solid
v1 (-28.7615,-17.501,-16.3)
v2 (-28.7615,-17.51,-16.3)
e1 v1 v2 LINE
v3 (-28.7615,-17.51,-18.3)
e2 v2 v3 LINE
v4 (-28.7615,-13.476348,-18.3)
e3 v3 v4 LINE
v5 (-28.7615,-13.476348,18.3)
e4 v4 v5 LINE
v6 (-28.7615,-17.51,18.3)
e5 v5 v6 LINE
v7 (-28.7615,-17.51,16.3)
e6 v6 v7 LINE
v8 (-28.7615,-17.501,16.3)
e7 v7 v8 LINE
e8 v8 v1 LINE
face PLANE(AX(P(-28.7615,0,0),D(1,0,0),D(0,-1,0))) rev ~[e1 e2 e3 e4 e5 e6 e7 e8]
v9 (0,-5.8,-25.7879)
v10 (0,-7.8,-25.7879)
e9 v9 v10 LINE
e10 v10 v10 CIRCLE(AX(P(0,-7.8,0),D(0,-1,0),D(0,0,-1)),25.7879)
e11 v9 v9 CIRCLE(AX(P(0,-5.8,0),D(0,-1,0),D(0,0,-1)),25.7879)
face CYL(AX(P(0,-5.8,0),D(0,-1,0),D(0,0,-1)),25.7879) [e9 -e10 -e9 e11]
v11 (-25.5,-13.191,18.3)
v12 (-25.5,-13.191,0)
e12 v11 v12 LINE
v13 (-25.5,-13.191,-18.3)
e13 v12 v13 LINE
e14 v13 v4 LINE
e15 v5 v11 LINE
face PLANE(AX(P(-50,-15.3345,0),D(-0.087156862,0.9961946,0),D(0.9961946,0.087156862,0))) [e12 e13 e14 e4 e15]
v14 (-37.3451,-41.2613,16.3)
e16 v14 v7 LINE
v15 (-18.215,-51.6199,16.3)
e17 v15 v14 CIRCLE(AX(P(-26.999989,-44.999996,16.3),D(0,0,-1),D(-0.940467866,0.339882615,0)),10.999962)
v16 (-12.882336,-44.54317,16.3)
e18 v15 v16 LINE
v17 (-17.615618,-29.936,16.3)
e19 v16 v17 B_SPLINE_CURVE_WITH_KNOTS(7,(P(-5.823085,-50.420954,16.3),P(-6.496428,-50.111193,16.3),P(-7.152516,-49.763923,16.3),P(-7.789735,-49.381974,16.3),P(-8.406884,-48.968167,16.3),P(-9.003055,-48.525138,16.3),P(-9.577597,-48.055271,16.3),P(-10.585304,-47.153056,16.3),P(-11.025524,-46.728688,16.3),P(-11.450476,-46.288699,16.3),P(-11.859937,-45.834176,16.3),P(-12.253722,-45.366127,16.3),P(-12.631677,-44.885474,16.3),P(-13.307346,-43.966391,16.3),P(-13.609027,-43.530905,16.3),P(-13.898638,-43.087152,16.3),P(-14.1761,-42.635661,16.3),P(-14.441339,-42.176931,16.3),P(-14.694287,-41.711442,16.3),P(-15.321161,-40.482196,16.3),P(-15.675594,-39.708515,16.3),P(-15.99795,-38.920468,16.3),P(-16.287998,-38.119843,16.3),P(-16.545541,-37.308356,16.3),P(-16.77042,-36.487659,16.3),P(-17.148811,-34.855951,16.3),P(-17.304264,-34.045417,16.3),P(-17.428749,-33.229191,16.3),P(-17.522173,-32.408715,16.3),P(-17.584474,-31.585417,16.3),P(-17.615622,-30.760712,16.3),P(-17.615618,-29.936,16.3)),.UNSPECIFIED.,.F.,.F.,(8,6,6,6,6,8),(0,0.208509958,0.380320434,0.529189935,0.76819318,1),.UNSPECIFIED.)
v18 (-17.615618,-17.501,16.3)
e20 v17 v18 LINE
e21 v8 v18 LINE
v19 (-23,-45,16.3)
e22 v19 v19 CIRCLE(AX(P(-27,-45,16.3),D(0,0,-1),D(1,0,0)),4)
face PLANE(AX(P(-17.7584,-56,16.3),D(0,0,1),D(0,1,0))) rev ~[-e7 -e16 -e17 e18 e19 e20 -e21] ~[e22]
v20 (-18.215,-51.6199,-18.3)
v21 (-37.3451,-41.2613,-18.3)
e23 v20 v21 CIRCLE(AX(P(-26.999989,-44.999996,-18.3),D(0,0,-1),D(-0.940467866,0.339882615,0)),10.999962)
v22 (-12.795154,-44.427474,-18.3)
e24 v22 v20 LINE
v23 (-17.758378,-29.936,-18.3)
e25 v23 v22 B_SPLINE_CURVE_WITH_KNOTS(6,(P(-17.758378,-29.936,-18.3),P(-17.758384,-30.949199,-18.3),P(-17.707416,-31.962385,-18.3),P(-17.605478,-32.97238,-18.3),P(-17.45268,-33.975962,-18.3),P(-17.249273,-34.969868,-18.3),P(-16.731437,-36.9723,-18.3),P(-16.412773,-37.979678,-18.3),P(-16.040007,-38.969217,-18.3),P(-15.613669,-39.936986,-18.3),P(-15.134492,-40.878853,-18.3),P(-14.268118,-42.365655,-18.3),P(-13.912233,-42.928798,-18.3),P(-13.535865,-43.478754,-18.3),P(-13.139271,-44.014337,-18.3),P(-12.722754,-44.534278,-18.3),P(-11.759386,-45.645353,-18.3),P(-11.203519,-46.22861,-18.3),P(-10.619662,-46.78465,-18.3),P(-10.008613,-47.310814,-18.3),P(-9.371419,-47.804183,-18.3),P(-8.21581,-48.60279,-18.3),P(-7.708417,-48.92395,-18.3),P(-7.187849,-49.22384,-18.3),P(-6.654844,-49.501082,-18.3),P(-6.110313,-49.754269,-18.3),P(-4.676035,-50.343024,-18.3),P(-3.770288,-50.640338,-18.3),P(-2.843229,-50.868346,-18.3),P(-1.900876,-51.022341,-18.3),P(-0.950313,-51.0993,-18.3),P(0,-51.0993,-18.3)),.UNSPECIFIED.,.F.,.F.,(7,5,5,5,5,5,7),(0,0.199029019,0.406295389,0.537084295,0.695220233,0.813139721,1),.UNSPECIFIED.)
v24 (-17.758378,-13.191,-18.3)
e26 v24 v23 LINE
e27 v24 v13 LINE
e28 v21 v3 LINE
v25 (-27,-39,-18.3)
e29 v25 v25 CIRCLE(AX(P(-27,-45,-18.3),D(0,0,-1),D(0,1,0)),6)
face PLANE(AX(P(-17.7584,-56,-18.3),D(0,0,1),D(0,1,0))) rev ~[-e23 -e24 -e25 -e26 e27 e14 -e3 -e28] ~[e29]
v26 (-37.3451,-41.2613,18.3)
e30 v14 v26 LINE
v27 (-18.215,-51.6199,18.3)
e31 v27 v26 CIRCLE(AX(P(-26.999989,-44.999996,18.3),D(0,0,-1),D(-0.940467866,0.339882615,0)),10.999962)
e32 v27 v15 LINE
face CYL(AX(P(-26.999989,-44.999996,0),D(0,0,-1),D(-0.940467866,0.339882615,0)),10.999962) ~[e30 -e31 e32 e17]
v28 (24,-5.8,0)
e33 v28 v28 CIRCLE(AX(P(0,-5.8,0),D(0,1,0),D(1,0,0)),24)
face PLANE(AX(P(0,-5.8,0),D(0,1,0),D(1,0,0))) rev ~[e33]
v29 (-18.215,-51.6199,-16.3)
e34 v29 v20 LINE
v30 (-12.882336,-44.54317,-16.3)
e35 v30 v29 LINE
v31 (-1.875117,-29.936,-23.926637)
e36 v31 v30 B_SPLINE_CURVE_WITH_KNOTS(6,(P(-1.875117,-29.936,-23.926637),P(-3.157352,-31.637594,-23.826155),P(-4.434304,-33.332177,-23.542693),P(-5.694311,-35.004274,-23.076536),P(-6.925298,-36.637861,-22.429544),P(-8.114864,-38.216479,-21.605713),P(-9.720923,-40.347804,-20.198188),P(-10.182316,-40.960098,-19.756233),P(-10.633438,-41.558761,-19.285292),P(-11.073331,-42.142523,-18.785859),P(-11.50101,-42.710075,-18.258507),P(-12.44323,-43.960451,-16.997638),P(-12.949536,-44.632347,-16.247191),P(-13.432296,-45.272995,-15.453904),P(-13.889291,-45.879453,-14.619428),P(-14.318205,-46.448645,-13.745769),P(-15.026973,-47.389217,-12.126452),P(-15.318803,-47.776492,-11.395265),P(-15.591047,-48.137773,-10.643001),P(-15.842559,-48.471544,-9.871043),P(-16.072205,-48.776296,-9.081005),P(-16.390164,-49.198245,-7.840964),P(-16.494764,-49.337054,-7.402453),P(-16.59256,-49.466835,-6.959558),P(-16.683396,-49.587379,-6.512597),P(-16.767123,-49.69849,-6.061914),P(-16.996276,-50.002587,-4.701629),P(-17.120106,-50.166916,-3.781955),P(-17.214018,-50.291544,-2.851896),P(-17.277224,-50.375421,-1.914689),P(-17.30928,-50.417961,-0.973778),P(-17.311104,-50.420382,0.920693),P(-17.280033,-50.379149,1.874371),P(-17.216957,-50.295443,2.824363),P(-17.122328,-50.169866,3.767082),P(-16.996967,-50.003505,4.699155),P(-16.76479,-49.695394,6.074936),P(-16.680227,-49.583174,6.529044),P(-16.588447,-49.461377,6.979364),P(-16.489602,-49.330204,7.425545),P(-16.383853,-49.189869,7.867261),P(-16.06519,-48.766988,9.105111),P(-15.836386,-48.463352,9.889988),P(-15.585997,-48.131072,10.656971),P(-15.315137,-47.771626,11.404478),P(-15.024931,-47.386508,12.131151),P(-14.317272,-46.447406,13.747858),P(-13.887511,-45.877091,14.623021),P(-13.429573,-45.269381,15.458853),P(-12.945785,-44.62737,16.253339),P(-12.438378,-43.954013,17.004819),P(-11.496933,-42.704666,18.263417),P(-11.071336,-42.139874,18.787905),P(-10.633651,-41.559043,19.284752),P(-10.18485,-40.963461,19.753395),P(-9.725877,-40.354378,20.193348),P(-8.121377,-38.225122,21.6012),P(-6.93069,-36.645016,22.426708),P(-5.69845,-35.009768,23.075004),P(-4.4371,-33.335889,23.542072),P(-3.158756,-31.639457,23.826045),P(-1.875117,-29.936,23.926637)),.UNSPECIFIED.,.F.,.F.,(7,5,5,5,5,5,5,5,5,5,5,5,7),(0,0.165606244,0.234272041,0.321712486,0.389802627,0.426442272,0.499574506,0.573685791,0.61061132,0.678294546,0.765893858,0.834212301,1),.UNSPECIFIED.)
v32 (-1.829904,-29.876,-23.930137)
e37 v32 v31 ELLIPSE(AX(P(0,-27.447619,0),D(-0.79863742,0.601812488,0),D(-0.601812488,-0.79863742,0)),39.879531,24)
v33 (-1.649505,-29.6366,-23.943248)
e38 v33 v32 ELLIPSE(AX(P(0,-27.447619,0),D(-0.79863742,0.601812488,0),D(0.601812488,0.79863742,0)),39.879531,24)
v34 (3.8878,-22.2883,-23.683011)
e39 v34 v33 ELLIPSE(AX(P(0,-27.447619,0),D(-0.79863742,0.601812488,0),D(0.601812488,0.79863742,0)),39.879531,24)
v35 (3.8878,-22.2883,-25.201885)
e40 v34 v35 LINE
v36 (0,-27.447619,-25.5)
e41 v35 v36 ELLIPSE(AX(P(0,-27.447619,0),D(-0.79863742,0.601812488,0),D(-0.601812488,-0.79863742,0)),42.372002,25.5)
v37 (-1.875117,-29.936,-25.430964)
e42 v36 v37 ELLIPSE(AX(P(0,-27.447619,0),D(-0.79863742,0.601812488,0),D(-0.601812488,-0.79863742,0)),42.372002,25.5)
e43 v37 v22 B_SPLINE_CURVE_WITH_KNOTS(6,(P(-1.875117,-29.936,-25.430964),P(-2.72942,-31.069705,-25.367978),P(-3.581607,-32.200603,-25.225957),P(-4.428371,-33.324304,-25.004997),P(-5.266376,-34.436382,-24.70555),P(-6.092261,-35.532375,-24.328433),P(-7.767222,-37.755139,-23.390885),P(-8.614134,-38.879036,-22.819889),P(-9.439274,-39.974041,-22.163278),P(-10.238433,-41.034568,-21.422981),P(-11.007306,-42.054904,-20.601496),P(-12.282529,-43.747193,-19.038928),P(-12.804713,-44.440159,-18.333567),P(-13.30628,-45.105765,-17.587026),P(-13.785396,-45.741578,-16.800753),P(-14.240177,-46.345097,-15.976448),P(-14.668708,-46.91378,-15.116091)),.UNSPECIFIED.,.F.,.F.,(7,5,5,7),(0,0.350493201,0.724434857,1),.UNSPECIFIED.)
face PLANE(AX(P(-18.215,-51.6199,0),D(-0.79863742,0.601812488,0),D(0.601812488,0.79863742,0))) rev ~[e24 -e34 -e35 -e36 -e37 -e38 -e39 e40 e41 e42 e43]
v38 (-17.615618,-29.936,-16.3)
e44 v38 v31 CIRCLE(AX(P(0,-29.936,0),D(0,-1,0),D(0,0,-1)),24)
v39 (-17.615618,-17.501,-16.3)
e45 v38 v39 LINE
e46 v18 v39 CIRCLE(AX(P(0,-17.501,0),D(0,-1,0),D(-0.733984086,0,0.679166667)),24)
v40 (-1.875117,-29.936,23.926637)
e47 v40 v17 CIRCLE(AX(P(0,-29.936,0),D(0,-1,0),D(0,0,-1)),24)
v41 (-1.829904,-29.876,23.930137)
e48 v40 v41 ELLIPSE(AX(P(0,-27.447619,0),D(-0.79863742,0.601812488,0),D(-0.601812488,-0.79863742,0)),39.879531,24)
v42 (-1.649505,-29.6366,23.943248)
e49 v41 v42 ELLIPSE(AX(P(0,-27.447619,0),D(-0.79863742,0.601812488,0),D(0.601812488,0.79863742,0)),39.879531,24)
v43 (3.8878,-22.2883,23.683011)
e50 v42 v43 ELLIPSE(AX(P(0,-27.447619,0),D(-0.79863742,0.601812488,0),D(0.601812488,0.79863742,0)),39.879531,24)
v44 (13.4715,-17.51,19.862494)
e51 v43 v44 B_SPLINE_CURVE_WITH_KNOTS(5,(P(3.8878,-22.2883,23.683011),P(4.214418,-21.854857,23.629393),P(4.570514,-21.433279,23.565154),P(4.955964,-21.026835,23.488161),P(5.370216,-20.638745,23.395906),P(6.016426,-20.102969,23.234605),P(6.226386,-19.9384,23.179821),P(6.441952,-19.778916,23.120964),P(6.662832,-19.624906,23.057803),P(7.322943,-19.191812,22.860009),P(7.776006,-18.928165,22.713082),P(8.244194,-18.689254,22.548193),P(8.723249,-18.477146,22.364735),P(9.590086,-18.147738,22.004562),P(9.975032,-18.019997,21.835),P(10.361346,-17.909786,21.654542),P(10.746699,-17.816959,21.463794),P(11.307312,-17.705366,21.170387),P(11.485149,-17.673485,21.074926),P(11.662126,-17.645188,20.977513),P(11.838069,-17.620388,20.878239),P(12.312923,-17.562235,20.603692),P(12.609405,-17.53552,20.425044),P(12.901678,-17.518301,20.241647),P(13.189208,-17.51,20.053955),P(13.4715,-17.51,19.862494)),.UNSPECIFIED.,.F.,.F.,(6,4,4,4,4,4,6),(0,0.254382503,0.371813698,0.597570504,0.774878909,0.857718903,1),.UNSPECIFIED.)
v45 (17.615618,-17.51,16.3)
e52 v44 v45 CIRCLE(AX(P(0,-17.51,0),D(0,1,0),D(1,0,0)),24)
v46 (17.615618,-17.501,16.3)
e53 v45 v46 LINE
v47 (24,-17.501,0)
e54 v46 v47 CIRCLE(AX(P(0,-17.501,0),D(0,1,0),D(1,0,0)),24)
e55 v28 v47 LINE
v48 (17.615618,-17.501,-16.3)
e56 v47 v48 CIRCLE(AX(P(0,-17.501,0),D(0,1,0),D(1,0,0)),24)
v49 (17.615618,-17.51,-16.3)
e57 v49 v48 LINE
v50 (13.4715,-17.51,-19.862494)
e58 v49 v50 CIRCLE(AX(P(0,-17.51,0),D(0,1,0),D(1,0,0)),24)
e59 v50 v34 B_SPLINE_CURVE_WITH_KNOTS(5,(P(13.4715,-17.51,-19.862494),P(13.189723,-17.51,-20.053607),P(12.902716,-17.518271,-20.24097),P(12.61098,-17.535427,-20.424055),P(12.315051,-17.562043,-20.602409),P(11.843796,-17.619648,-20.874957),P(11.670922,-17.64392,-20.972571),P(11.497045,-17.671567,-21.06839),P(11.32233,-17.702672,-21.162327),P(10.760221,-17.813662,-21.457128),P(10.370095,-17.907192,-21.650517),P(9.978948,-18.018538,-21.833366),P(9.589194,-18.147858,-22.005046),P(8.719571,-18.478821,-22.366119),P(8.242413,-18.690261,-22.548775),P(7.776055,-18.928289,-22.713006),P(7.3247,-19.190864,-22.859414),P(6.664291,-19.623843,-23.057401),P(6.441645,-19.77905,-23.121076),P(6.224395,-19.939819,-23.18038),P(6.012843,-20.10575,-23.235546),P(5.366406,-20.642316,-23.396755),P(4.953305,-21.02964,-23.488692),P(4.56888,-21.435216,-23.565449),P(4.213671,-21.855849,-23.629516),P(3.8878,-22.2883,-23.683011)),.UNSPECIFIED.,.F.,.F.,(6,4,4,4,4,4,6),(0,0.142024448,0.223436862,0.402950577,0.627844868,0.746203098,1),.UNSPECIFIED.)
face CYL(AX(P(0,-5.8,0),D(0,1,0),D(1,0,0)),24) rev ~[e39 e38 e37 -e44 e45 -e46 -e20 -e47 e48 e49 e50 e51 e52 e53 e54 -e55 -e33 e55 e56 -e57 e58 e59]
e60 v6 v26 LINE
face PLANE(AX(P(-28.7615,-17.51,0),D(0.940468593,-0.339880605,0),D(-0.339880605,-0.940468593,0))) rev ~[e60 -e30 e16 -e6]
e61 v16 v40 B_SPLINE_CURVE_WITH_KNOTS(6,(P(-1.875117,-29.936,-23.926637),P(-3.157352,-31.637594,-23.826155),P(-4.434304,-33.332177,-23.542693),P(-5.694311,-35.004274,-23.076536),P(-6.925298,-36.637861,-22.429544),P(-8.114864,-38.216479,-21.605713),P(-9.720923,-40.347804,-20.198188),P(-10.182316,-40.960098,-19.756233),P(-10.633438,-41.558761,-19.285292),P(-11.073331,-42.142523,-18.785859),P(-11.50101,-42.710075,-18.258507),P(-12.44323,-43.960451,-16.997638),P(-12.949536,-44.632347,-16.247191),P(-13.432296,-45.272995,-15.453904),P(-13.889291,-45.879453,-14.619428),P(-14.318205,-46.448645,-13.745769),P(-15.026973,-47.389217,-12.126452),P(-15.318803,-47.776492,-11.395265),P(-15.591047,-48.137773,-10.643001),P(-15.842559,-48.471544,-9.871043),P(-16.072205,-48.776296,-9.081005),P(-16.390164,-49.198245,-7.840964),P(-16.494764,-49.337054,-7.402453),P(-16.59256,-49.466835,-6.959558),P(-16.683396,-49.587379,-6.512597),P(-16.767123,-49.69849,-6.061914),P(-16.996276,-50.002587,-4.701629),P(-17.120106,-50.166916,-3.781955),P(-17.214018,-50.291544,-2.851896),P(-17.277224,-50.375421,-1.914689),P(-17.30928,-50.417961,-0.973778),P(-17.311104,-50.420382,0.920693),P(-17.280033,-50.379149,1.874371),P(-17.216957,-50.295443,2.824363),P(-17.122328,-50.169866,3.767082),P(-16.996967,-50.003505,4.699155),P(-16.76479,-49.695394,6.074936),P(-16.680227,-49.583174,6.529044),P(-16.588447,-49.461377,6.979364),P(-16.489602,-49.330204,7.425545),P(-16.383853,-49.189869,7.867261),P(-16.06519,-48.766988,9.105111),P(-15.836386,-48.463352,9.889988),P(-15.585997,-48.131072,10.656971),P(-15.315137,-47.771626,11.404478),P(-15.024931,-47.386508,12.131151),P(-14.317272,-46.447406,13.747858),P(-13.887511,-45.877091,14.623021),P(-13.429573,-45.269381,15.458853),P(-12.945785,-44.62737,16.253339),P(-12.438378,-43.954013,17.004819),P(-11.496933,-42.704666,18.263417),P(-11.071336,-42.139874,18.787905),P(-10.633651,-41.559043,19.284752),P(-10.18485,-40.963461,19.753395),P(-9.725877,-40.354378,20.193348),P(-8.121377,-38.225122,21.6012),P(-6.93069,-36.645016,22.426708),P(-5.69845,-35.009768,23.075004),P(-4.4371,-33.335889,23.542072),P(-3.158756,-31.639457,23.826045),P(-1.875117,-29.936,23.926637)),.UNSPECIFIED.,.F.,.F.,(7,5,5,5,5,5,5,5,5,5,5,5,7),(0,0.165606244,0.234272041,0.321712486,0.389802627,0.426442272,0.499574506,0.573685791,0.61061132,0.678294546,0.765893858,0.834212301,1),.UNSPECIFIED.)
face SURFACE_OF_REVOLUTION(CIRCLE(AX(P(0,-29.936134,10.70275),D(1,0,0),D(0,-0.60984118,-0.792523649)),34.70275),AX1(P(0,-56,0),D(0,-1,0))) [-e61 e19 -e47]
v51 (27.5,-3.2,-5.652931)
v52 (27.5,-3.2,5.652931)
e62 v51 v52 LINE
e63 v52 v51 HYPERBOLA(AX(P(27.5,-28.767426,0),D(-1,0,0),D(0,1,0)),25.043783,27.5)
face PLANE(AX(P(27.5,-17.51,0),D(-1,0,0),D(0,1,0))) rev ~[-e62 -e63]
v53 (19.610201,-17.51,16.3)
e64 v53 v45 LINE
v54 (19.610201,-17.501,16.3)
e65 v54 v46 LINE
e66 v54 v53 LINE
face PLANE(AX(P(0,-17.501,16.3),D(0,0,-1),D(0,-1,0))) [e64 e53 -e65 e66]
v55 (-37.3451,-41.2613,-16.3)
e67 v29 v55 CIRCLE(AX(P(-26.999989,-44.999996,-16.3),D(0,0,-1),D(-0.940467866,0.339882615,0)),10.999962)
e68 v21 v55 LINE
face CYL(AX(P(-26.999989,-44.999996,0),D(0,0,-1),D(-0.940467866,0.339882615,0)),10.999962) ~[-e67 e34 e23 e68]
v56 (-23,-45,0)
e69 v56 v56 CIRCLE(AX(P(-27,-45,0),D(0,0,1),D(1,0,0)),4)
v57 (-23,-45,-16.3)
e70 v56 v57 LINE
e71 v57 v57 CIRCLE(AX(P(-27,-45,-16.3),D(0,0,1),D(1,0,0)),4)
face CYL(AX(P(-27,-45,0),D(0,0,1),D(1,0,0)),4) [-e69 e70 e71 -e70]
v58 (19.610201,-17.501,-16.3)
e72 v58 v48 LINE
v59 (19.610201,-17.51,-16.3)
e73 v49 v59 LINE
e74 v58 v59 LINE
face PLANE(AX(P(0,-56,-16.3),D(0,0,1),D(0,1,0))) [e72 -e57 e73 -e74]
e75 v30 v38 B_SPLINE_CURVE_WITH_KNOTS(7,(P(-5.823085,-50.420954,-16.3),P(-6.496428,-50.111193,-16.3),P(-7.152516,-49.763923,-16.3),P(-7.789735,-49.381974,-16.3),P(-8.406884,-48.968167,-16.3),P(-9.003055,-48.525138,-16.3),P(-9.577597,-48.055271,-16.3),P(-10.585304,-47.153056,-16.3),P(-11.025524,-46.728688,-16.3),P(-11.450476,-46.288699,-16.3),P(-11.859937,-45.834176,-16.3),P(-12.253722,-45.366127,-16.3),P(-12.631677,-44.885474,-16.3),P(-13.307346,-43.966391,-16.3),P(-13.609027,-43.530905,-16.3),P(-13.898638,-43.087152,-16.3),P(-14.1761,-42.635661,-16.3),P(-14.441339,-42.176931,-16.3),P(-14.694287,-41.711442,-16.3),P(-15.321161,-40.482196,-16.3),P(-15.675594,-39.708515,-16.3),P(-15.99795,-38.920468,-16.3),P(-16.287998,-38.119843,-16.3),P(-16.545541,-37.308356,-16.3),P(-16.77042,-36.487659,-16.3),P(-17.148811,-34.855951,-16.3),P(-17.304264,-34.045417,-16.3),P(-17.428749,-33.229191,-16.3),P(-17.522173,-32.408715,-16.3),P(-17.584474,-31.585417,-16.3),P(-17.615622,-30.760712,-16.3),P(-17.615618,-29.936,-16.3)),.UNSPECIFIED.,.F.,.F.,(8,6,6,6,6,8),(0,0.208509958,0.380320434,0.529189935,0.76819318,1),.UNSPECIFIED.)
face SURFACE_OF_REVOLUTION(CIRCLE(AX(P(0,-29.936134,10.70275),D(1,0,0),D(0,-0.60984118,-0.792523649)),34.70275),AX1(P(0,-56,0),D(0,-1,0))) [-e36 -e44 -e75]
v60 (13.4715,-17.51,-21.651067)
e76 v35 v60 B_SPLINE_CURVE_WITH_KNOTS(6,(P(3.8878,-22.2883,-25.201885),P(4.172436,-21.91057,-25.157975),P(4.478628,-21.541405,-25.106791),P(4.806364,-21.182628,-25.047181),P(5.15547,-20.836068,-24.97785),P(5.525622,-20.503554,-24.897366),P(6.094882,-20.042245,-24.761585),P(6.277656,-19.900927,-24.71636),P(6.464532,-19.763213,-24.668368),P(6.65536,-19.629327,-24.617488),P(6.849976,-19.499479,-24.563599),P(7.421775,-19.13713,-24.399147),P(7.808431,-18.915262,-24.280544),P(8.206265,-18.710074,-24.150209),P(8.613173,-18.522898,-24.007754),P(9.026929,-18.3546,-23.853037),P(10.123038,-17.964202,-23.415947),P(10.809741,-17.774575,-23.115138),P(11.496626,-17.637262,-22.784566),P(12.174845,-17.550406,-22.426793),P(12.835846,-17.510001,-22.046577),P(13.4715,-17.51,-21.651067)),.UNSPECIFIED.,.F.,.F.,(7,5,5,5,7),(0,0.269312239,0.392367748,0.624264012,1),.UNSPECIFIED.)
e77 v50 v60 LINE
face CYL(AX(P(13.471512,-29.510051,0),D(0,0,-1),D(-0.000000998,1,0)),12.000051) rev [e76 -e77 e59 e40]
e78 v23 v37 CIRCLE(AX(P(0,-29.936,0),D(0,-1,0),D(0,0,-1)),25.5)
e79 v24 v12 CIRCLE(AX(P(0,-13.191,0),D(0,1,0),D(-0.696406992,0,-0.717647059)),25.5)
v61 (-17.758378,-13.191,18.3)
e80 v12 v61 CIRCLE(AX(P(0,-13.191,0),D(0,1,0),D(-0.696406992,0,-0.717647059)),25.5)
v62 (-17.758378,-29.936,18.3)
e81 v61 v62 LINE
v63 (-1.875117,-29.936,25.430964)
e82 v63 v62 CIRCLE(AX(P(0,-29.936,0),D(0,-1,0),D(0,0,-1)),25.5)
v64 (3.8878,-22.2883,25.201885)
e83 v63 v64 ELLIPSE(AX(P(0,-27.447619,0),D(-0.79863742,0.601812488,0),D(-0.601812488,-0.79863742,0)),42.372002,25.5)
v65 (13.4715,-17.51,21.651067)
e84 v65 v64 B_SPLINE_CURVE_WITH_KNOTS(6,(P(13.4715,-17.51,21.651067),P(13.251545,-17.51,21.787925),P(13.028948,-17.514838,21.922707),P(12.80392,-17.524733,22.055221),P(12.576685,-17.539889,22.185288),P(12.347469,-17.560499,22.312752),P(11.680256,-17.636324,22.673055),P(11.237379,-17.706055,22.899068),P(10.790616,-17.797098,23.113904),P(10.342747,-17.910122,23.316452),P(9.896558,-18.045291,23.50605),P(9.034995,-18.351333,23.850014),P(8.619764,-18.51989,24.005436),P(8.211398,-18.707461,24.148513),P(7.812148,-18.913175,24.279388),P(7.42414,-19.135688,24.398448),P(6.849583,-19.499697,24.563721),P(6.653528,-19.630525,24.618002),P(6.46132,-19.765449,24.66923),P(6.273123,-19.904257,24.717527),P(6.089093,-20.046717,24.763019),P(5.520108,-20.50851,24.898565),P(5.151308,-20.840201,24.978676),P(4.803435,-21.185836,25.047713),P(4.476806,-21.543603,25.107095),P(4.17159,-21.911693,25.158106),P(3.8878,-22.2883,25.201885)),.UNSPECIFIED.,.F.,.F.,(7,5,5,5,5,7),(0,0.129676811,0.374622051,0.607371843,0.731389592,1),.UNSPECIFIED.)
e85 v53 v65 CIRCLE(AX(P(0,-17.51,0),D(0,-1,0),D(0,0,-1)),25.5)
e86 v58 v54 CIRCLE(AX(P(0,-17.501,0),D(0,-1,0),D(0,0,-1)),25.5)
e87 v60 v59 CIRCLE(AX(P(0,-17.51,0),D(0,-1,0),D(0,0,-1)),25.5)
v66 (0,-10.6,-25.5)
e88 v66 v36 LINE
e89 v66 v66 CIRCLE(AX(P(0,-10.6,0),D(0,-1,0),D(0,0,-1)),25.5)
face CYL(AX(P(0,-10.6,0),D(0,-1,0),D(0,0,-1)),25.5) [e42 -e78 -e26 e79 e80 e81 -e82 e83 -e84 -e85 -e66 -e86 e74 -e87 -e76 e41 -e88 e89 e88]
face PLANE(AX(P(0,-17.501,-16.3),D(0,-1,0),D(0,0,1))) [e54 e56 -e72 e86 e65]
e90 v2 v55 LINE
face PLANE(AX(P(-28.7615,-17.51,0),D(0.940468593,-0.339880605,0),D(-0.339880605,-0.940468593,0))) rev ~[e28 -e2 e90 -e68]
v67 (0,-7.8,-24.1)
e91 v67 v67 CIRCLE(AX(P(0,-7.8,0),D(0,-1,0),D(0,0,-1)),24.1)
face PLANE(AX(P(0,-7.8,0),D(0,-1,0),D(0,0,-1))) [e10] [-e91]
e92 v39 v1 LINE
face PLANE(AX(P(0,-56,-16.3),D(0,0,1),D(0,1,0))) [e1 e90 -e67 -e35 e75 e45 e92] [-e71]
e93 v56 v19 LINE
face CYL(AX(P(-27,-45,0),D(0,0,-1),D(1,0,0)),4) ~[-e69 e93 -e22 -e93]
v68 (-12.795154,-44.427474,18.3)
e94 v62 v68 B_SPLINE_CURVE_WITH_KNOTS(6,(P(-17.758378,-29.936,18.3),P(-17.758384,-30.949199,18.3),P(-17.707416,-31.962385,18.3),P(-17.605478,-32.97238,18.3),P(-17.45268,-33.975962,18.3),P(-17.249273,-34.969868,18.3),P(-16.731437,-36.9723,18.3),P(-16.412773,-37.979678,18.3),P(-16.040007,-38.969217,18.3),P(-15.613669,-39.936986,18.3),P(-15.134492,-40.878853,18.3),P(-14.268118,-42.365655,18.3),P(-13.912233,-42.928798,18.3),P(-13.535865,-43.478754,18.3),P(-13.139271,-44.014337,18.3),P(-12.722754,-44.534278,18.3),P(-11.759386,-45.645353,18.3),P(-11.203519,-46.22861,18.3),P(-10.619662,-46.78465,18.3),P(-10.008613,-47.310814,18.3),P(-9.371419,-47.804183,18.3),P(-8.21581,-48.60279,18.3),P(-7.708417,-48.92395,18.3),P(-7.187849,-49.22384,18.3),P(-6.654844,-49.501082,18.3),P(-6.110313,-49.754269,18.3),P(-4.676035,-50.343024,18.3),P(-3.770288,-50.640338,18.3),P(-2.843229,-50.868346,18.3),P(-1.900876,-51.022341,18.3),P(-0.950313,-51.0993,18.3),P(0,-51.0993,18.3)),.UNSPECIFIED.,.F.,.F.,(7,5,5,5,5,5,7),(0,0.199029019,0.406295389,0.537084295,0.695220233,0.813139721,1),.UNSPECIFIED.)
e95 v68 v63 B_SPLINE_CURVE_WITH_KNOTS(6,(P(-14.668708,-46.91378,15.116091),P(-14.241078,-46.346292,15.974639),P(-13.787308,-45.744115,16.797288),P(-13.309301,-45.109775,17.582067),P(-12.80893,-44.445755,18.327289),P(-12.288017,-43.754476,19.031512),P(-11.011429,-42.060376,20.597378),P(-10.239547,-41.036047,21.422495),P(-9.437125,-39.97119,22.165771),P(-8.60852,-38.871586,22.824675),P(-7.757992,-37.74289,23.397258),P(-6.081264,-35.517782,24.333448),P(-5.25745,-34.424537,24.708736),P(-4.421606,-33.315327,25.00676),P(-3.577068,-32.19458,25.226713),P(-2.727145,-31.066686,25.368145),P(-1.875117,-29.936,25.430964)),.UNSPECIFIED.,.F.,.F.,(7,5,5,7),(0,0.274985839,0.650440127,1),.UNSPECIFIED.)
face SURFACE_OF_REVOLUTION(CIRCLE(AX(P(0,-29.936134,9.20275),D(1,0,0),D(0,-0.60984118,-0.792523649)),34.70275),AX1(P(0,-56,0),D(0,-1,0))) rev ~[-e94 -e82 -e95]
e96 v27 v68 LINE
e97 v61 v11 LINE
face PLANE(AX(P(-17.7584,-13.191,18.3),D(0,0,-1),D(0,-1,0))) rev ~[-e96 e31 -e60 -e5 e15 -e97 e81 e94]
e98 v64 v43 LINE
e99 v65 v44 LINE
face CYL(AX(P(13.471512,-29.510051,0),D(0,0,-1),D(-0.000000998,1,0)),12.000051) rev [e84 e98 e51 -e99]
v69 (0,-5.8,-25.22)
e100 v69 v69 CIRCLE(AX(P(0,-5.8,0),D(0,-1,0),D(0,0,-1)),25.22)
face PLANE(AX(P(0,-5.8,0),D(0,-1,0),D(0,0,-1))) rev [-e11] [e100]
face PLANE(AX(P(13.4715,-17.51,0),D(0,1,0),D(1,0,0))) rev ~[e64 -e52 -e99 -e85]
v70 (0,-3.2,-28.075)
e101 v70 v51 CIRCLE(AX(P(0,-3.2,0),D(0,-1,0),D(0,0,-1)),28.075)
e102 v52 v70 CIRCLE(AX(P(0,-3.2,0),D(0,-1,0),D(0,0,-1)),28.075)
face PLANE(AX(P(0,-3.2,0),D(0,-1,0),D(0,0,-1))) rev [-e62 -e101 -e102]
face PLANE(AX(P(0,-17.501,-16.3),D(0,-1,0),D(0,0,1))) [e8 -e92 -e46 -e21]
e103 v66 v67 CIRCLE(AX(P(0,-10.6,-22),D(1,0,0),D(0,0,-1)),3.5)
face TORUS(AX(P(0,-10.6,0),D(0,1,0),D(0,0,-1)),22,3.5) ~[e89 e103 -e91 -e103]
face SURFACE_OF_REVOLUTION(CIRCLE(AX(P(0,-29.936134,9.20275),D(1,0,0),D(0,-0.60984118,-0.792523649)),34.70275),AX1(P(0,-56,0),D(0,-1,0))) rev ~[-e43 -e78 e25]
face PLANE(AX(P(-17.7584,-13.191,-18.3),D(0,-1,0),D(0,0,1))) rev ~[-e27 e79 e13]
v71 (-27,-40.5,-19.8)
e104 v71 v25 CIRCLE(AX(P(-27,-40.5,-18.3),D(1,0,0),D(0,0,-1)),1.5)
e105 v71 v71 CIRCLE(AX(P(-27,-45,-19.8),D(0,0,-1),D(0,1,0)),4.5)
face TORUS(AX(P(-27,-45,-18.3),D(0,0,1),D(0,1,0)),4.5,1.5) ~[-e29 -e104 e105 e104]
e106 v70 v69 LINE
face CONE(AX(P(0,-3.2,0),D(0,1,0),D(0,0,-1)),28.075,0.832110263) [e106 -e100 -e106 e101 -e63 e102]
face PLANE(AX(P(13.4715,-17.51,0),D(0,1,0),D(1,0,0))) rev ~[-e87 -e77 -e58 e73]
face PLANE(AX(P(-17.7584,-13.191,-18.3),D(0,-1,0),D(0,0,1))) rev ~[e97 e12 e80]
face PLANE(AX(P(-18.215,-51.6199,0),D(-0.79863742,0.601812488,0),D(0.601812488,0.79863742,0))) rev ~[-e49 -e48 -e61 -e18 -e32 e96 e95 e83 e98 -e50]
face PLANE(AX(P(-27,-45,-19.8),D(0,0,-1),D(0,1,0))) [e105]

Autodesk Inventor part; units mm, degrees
sketch "Sketch_1" plane through (0, 0, 0) normal (1, 0, 0) x (0, 1, 0)
  line L0 (-56, 0) -> (0, 0)
  line L1 (-3.2, 0) -> (-3.2, -28.075)
  line L2 (-3.2, -28.075) -> (-5.8, -25.22)
  line L3 (-5.8, -25.22) -> (-5.8, -25.7879)
  line L4 (-5.8, -25.7879) -> (-7.8, -25.7879)
  line L5 (-7.8, -25.7879) -> (-7.8, -24.1)
  arc A0 (-10.6, -25.5) -> (-7.8, -24.1) centre (-10.6, -22) ccw
  line L6 (-10.6, -25.5) -> (-29.936, -25.5)
  arc A1 (-51.0993, -18.3) -> (-29.936, -25.5) centre (-29.936, 9.203) ccw
  line L7 (-51.0993, -18.3) -> (-56, -18.3)
  line L8 (-56, -18.3) -> (-56, 0)
  line L9 (-56, 0) -> (-3.2, 0)
revolve "Revolution1" add sketch "Sketch_1" angle 360 about axis through (0, -56, 0) along (0, -1, 0)
sketch "Sketch_2" plane through (0, 0, 0) normal (0, 0, 1) x (1, 0, 0)
  line L0 (-50, -13.191) -> (-21.7584, -56)
  line L1 (-21.7584, -56) -> (-17.7584, -56)
  line L2 (-17.7584, -56) -> (-17.7584, -13.191)
  line L3 (-17.7584, -13.191) -> (-50, -13.191)
extrude "Extrusion1" cut sketch "Sketch_2" along normal mid plane 56
sketch "Sketch_3" plane through (0, 0, 0) normal (0, 0, 1) x (1, 0, 0)
  line L0 (-150, -150) -> (150, -150)
  line L1 (150, -150) -> (150, 150)
  line L2 (150, 150) -> (-150, 150)
  line L3 (-150, 150) -> (-150, -150)
  arc A0 (-37.3451, -41.2613) -> (-18.215, -51.6199) centre (-27, -45) ccw
  line L4 (-18.215, -51.6199) -> (3.8878, -22.2883)
  arc A1 (13.4715, -17.51) -> (3.8878, -22.2883) centre (13.4715, -29.51) ccw
  line L5 (13.4715, -17.51) -> (27.5, -17.51)
  line L6 (27.5, -17.51) -> (27.5, 0)
  line L7 (27.5, 0) -> (-28.7615, 0)
  line L8 (-28.7615, 0) -> (-28.7615, -17.51)
  line L9 (-28.7615, -17.51) -> (-37.3451, -41.2613)
sketch "Sketch_5" plane through (-17.7584, 0, 0) normal (1, 0, 0) x (0, 0, -1)
  line L0 (-18.3, -56) -> (-16.3, -56)
  line L1 (-16.3, -56) -> (-16.3, -17.501)
  line L2 (-16.3, -17.501) -> (16.3, -17.501)
  line L3 (16.3, -17.501) -> (16.3, -56)
  line L4 (16.3, -56) -> (18.3, -56)
  line L5 (18.3, -56) -> (18.3, -13.191)
  line L6 (18.3, -13.191) -> (-18.3, -13.191)
  line L7 (-18.3, -13.191) -> (-18.3, -56)
extrude "Extrusion2" add sketch "Sketch_5" along normal mid plane 44
extrude "Extrusion3" cut sketch "Sketch_3" along normal mid plane 100
sketch "Sketch_4" plane through (0, -5.8, 0) normal (0, 1, 0) x (1, 0, 0)
  circle A0 centre (0, 0) radius 24
extrude "Extrusion4" cut sketch "Sketch_4" against normal blind 24.076
sketch "Sketch_6" plane through (0, 0, 0) normal (1, 0, 0) x (0, 1, 0)
  line L0 (-56, 0) -> (0, 0)
  line L1 (-29.6366, 0) -> (-29.6366, -24)
  line L2 (-29.6366, -24) -> (-29.936, -24)
  arc A0 (-51.0993, -16.8) -> (-29.936, -24) centre (-29.936, 10.703) ccw
  line L3 (-51.0993, -16.8) -> (-51.0993, 0)
  line L4 (-51.0993, 0) -> (-29.6366, 0)
revolve "Revolution2" cut sketch "Sketch_6" angle 360 about axis through (0, -56, 0) along (0, -1, 0)
sketch "Sketch_7" plane through (0, 0, 0) normal (1, 0, 0) x (0, 1, 0)
  line L0 (-56, 16.3) -> (-56, -16.3)
  line L1 (-56, -16.3) -> (-17.501, -16.3)
  line L2 (-17.501, -16.3) -> (-17.501, 16.3)
  line L3 (-17.501, 16.3) -> (-56, 16.3)
extrude "Extrusion5" cut sketch "Sketch_7" along normal mid plane 116
sketch "Sketch_8" plane through (0, 0, 0) normal (0, 0, 1) x (1, 0, 0)
  line L0 (-50, -15.3345) -> (-25.5, -13.191)
  line L1 (-25.5, -13.191) -> (-50, -13.191)
  line L2 (-50, -13.191) -> (-50, -15.3345)
extrude "Extrusion6" cut sketch "Sketch_8" along normal mid plane 116
sketch "Sketch_9" plane through (0, 0, 0) normal (0, 0, 1) x (1, 0, 0)
  circle A0 centre (-27, -45) radius 4
extrude "Extrusion7" add sketch "Sketch_9" along normal mid plane 36.6
sketch "Sketch_10" plane through (-27, 0, 0) normal (1, 0, 0) x (0, 0, -1)
  line L0 (19.8, -45) -> (18.3, -45)
  line L1 (18.3, -45) -> (18.3, -39)
  arc A0 (19.8, -40.5) -> (18.3, -39) centre (18.3, -40.5) ccw
  line L2 (19.8, -40.5) -> (19.8, -45)
  line L3 (19.8, -45) -> (18.3, -45)
revolve "Revolution3" add sketch "Sketch_10" angle 360 about axis through (-27, -45, -19.8) along (0, 0, -1)
ref_plane "body_to_dummy_XY" through (0, 0, 0) normal (0, -1, 0) x (1, 0, 0)
ref_plane "body_to_dummy_YZ" through (0, 0, 0) normal (1, 0, 0) x (0, 0, 1)
ref_plane "body_to_dummy_ZX" through (0, 0, 0) normal (0, 0, 1) x (0, -1, 0)
ref_plane "body_to_stopper_left_XY" through (-27, -45, -18.3) normal (0, 0, -1) x (1, 0, 0)
ref_plane "body_to_stopper_left_YZ" through (-27, -45, -18.3) normal (1, 0, 0) x (0, -1, 0)
ref_plane "body_to_stopper_left_ZX" through (-27, -45, -18.3) normal (0, -1, 0) x (0, 0, -1)
ref_plane "body_to_stopper_right_XY" through (-27, -45, 18.3) normal (0, 0, 1) x (1, 0, 0)
ref_plane "body_to_stopper_right_YZ" through (-27, -45, 18.3) normal (1, 0, 0) x (0, 1, 0)
ref_plane "body_to_stopper_right_ZX" through (-27, -45, 18.3) normal (0, 1, 0) x (0, 0, 1)
ref_plane "body_to_swivel_XY" through (0, -3.2, 0) normal (0, -1, 0) x (1, 0, 0)
ref_plane "body_to_swivel_YZ" through (0, -3.2, 0) normal (1, 0, 0) x (0, 0, 1)
ref_plane "body_to_swivel_ZX" through (0, -3.2, 0) normal (0, 0, 1) x (0, -1, 0)
ref_plane "body_to_wheel_XY" through (-27, -45, 0) normal (0, 0, 1) x (1, 0, 0)
ref_plane "body_to_wheel_YZ" through (-27, -45, 0) normal (1, 0, 0) x (0, 1, 0)
ref_plane "body_to_wheel_ZX" through (-27, -45, 0) normal (0, 1, 0) x (0, 0, 1)
properties part number "BODY-HSMCS50"
